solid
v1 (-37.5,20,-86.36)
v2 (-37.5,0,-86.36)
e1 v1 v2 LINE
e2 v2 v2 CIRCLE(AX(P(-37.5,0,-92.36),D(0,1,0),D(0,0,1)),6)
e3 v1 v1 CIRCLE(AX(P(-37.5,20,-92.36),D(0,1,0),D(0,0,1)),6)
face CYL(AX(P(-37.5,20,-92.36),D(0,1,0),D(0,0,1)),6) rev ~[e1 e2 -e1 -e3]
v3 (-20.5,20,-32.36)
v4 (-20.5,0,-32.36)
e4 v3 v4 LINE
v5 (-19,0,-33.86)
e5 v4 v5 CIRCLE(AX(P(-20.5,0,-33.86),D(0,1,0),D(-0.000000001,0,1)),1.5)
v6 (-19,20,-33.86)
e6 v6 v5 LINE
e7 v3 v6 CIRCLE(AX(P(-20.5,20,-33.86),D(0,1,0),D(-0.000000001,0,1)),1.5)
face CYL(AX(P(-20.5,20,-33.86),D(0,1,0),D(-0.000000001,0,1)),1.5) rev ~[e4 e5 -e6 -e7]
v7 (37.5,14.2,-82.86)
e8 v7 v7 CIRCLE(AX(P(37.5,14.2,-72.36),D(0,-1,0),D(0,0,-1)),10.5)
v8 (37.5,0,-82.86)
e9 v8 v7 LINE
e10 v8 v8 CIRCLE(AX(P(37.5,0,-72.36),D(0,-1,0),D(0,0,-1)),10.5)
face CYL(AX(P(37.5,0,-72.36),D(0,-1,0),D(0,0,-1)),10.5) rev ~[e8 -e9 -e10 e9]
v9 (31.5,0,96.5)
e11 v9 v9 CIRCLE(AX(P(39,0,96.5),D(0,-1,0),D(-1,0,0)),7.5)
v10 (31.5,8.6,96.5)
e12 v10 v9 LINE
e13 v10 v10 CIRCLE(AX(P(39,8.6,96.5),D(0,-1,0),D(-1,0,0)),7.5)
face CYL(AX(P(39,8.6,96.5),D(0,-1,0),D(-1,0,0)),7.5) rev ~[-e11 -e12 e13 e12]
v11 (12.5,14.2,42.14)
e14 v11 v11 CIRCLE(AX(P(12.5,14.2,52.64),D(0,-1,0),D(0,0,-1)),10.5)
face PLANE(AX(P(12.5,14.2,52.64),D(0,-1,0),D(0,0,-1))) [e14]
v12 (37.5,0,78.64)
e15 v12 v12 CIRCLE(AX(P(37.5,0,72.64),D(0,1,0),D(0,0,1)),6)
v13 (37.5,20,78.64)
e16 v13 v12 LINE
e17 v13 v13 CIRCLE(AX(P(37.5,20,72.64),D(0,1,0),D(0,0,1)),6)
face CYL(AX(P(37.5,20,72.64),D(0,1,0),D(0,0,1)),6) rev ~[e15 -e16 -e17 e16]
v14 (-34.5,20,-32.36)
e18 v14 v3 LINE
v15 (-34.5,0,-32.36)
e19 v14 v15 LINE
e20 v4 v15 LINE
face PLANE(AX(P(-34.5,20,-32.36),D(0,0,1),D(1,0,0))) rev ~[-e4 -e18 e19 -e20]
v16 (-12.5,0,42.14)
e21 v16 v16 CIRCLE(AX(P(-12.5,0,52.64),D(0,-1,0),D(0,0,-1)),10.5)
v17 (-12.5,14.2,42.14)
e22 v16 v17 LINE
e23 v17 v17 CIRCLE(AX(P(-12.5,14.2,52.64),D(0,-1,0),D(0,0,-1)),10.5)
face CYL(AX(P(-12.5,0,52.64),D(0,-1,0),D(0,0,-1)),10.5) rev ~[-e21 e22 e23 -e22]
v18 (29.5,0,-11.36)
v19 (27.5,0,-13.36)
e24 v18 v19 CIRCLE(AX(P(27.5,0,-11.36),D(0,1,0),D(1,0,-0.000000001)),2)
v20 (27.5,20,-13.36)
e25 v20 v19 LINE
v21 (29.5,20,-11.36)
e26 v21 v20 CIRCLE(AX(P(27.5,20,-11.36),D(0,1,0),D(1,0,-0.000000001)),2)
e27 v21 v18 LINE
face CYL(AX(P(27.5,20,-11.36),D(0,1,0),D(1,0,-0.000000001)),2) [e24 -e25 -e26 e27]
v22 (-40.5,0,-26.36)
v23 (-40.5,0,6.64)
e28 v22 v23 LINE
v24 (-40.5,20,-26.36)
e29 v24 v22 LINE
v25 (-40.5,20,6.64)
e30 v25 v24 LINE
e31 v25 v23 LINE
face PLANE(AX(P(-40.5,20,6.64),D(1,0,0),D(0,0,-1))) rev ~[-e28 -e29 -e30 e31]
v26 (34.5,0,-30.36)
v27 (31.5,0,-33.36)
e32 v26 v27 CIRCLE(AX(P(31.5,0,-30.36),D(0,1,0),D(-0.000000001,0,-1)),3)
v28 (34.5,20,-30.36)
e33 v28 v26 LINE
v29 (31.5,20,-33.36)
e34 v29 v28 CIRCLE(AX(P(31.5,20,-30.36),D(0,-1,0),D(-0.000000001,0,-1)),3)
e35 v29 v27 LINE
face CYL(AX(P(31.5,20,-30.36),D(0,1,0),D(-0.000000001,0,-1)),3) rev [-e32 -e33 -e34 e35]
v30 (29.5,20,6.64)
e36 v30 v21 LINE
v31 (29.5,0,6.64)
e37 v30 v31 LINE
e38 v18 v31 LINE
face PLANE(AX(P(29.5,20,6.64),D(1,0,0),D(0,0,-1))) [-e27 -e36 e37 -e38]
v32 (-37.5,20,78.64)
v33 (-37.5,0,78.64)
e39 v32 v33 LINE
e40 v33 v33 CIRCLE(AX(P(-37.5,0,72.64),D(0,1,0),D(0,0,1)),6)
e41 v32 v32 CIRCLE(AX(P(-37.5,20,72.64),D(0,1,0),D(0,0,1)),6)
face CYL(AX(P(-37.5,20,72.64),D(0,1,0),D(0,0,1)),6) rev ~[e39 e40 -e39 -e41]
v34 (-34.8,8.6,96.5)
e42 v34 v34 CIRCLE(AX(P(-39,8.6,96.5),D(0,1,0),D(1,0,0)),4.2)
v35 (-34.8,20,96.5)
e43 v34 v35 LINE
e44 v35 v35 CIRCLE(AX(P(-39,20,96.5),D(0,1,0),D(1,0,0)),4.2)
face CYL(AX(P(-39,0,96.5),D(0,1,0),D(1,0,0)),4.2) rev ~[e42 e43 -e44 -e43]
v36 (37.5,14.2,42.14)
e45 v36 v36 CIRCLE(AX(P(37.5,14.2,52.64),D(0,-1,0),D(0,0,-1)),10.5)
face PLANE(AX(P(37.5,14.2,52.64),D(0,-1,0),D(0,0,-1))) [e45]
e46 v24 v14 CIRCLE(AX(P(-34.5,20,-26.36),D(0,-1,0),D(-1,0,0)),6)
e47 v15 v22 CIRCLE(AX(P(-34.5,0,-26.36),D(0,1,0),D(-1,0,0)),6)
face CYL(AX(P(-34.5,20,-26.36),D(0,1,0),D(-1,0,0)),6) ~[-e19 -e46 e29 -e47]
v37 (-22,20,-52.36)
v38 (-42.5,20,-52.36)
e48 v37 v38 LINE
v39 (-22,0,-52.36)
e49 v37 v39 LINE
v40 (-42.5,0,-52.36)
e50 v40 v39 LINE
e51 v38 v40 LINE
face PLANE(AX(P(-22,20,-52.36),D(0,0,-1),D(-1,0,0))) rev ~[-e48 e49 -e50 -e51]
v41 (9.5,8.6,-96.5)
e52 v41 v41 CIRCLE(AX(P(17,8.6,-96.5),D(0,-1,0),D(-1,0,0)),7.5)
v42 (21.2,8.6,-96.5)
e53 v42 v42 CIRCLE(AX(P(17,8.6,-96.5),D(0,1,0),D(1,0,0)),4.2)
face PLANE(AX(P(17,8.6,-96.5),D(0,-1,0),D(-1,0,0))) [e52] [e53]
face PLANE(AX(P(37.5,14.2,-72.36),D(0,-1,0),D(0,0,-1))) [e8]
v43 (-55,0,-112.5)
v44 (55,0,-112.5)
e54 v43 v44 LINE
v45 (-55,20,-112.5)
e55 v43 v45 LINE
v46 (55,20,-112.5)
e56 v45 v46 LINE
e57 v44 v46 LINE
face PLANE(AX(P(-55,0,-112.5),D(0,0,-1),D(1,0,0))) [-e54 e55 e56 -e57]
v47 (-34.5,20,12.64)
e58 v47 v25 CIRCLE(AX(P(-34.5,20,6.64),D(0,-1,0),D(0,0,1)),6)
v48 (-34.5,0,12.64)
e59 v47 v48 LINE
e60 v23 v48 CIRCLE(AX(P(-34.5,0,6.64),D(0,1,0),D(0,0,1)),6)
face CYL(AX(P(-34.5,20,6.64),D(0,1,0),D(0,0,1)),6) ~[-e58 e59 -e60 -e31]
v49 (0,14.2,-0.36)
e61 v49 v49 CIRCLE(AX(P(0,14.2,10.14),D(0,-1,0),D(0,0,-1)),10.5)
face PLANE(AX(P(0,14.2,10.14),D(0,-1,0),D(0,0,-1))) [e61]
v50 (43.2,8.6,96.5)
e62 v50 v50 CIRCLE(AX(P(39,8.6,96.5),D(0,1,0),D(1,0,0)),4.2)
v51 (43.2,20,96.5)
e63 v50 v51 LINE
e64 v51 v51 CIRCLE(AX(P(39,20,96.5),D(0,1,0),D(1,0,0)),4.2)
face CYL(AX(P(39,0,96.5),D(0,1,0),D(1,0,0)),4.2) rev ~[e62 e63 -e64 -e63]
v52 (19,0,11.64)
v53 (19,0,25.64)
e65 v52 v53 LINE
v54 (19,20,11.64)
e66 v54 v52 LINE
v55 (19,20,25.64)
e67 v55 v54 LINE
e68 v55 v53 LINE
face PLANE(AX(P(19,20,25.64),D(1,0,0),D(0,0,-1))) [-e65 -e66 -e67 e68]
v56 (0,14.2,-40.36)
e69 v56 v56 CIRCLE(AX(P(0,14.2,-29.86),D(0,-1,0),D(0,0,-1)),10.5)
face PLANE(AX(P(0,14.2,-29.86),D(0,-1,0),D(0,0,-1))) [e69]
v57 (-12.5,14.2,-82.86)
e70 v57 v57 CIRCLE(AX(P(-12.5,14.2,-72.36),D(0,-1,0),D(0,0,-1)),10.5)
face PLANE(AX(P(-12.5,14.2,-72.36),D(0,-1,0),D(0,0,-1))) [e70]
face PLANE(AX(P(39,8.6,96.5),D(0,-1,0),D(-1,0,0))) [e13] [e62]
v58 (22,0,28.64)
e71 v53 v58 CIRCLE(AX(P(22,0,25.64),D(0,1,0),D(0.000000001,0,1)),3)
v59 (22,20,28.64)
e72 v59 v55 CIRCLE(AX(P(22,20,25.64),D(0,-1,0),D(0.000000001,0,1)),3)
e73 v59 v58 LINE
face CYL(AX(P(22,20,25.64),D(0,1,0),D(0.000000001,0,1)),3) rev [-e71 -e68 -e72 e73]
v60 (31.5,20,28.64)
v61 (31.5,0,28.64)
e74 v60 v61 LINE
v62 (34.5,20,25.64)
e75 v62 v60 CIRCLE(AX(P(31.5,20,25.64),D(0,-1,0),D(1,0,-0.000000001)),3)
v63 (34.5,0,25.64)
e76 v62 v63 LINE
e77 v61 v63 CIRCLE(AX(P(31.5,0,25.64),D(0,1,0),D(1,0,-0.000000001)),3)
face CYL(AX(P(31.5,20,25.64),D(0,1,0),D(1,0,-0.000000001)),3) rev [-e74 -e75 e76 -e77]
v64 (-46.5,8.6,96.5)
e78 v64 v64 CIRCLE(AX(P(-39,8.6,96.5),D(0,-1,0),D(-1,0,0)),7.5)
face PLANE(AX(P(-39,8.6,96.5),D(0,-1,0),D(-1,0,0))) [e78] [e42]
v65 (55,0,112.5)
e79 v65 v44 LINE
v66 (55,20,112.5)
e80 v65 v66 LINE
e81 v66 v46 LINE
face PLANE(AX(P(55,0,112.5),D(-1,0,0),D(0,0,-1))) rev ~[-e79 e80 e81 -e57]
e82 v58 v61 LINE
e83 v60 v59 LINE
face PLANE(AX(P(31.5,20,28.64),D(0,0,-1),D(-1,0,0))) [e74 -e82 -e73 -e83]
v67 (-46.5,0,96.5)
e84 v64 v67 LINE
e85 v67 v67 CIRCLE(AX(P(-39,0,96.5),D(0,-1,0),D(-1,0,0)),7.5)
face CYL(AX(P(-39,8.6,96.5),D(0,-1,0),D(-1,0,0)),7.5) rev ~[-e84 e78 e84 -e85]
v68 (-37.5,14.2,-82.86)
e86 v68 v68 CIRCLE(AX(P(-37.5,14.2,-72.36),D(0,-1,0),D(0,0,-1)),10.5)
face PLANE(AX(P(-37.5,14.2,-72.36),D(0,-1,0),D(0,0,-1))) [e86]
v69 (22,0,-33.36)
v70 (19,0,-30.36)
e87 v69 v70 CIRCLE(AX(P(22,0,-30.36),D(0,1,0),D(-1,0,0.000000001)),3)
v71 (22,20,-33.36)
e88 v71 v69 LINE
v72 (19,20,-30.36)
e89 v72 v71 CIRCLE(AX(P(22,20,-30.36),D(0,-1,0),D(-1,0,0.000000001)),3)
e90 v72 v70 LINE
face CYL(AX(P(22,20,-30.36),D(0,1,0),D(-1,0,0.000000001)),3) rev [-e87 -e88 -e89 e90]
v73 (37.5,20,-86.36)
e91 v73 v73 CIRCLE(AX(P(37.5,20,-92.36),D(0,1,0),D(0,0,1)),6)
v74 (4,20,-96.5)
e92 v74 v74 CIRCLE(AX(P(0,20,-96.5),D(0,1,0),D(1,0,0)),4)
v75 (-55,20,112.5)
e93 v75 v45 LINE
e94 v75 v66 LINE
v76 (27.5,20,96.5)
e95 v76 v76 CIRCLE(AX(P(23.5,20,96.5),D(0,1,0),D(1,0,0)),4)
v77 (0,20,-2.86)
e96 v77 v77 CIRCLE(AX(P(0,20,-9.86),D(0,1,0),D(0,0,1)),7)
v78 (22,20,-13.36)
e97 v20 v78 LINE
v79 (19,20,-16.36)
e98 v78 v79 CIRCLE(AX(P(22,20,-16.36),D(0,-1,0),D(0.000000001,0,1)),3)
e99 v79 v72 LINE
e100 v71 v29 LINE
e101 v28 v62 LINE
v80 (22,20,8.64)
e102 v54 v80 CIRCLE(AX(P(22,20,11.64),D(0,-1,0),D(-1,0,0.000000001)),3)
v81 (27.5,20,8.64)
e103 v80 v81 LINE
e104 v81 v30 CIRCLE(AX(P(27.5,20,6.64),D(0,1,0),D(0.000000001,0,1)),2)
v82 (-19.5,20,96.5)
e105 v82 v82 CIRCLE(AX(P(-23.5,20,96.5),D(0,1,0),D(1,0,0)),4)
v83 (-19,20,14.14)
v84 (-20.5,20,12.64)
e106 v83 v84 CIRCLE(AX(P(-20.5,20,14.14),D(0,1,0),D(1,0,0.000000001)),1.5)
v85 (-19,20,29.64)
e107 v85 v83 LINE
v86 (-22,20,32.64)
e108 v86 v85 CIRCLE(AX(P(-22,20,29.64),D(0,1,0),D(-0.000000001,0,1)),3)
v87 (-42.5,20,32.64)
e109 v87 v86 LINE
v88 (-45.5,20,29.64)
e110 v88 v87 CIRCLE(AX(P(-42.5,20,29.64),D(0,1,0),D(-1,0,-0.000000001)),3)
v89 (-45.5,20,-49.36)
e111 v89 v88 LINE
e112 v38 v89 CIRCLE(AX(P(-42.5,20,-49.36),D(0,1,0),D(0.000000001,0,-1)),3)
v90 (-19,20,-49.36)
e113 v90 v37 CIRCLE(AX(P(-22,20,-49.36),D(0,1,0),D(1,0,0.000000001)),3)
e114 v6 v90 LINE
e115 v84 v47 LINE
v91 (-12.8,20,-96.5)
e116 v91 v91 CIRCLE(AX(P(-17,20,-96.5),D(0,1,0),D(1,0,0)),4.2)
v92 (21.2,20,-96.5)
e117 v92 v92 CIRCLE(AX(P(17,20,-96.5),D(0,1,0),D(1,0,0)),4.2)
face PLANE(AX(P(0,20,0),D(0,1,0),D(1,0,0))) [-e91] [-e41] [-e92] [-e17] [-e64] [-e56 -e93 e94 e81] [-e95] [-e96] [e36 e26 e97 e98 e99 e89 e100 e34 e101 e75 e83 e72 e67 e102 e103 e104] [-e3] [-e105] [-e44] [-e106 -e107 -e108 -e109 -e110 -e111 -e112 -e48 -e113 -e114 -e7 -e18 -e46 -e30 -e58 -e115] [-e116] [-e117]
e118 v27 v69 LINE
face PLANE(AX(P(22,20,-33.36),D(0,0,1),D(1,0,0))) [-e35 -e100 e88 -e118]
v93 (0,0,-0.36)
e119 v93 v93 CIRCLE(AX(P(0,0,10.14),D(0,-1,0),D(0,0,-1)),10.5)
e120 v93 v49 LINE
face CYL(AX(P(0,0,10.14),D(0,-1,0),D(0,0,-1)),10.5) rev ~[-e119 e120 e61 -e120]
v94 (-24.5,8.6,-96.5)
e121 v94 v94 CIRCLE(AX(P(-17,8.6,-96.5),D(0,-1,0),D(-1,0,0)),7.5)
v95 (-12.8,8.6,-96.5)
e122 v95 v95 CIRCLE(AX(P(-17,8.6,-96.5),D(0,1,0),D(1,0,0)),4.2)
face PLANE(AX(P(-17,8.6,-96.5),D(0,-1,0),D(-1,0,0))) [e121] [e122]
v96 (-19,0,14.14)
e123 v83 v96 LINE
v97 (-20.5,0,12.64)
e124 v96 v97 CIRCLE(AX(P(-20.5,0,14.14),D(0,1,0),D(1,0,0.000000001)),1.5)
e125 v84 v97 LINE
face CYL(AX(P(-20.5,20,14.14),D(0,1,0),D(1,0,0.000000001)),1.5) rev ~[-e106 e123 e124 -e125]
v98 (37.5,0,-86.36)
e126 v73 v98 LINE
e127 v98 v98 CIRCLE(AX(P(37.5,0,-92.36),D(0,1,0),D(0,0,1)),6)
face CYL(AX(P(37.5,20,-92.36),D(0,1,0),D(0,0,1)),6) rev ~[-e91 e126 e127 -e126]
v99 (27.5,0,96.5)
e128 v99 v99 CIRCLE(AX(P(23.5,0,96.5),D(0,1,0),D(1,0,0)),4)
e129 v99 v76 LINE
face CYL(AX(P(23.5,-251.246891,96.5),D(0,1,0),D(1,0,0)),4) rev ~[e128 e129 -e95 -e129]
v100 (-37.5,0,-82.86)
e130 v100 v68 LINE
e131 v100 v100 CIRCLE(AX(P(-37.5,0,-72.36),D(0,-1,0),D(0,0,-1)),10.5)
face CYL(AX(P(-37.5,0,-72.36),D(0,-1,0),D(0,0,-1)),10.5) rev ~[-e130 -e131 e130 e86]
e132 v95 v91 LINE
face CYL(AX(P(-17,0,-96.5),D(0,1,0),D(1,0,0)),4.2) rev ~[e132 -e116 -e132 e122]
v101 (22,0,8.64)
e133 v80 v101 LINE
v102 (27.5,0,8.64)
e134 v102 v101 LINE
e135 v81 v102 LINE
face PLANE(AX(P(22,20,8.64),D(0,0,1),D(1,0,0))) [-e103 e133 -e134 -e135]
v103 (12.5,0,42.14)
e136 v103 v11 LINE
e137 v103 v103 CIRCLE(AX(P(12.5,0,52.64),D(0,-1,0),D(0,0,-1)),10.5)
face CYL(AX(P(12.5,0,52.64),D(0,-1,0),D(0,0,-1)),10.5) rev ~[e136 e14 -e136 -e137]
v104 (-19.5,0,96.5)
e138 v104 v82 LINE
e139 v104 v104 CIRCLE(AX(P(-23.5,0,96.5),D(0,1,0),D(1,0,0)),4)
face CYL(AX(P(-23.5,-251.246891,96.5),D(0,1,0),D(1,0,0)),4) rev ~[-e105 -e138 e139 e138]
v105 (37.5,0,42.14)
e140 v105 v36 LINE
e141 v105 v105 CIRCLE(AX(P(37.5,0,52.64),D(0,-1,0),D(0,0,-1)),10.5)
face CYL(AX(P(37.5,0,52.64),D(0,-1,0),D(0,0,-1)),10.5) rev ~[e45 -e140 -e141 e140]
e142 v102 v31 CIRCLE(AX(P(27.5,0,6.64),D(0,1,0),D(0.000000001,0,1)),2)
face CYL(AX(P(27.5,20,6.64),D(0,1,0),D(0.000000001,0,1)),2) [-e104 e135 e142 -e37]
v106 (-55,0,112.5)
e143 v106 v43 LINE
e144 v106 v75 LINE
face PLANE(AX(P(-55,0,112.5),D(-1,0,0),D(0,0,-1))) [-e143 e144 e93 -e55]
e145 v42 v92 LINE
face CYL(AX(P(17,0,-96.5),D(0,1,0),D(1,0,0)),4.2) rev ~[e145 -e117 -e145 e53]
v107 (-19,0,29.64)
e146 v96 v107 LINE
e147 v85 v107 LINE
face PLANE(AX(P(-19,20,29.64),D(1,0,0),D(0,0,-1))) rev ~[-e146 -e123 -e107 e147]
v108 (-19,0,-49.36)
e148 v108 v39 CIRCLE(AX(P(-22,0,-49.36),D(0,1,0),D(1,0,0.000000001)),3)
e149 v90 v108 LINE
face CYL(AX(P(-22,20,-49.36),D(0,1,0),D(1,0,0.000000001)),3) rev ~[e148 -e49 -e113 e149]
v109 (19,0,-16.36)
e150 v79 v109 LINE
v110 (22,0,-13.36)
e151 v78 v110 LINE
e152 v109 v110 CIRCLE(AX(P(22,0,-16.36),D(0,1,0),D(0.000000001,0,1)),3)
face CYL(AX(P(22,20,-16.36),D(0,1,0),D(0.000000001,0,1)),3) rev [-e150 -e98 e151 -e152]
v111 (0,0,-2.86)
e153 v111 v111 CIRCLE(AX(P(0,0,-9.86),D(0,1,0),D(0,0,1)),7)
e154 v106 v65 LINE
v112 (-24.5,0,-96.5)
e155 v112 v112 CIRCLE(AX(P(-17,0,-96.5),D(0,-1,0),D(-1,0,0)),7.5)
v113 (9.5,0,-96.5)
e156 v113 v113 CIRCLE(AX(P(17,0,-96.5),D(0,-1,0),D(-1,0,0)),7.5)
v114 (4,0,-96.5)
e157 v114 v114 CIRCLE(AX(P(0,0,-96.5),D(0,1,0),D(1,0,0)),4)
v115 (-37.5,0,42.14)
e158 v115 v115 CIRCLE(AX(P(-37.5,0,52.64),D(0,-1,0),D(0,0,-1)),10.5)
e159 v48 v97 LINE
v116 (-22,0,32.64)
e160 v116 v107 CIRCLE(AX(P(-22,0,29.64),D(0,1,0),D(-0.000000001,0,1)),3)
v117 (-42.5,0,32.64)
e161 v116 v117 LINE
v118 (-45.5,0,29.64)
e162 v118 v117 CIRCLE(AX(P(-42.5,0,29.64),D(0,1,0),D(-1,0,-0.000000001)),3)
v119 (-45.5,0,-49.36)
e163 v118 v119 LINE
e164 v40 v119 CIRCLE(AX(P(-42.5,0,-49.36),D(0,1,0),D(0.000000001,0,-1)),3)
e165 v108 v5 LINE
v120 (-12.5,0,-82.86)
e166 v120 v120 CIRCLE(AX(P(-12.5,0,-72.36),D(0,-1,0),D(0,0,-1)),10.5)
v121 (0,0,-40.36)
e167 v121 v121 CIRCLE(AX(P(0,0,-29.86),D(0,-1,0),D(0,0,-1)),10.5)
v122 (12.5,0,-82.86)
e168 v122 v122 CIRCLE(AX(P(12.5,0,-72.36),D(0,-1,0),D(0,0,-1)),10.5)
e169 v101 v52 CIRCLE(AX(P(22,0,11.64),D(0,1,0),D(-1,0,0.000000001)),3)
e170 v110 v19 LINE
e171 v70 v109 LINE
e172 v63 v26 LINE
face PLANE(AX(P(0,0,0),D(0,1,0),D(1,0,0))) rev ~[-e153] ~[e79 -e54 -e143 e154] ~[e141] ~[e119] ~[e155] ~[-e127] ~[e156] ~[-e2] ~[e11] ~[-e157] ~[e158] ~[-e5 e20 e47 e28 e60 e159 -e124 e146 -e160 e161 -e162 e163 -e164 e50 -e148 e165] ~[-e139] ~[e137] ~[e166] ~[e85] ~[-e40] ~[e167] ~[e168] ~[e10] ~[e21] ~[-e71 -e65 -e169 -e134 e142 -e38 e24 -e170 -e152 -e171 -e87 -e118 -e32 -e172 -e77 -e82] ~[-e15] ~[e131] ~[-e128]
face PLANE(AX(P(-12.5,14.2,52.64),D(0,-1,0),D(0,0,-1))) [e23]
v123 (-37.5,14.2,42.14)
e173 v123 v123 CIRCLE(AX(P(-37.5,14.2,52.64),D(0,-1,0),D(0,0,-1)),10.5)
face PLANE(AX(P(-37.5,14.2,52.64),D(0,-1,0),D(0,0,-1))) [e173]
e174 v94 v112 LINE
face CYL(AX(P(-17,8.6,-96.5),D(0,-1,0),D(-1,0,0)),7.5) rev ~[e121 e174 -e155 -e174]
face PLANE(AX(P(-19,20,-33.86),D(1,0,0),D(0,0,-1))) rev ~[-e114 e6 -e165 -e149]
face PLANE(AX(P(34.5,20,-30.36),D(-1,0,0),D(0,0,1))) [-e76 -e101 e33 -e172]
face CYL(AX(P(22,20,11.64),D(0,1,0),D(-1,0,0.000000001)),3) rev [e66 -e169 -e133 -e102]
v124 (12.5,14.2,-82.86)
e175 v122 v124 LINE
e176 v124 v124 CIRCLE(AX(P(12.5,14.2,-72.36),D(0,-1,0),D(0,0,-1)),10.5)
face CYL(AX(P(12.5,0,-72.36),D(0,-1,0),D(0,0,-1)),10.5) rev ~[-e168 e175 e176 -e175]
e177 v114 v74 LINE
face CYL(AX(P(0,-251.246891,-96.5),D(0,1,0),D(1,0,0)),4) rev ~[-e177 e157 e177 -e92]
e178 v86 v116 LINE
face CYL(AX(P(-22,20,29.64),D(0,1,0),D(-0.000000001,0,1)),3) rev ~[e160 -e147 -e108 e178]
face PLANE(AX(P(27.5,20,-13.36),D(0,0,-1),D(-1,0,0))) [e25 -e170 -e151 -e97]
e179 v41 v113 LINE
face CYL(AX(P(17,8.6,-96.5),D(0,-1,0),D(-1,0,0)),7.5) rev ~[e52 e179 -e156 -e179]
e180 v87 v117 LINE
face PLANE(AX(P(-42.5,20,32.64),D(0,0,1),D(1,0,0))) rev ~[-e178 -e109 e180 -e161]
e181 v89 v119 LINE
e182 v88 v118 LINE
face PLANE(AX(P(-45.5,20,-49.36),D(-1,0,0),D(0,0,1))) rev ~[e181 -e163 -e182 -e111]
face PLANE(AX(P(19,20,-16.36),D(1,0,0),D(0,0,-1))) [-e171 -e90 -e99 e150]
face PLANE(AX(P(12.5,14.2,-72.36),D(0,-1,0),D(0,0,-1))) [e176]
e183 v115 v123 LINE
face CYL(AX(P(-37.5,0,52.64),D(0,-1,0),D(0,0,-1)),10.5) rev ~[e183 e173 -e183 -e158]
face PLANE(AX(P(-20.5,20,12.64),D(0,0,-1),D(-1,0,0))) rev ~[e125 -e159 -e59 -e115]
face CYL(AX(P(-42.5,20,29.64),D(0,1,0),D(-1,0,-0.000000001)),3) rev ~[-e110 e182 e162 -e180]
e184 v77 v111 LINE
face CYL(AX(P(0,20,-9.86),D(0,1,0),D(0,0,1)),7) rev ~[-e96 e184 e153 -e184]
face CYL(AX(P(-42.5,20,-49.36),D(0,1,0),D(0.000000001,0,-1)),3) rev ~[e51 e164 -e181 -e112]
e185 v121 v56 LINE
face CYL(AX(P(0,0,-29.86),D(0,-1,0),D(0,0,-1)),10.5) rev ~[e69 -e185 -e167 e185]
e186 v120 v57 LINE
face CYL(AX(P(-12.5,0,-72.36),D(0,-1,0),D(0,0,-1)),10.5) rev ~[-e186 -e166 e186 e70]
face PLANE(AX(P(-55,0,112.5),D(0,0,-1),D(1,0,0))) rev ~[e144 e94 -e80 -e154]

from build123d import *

# Parameters (mm, degrees)
SKETCH1_W                                           = 110
SKETCH1_H                                           = 225
BOSS_EXTRUDE1_DEPTH                                 = 20
CUT_EXTRUDE1_REACH                                  = 128.812
CUT_EXTRUDE2_REACH                                  = 128.812
SKETCH4_R                                           = 10.5
CUT_EXTRUDE3_DEPTH                                  = 14.2
CUT_EXTRUDE4_REACH                                  = 128.812
SKETCH5_R                                           = 6
CUT_EXTRUDE5_REACH                                  = 128.812
SKETCH6_R                                           = 7
CBORE_FOR_M8_HEX_SOCKET_HEAD_CAP_SCREW1_D           = 8.4
CBORE_FOR_M8_HEX_SOCKET_HEAD_CAP_SCREW1_CBORE_D     = 15
CBORE_FOR_M8_HEX_SOCKET_HEAD_CAP_SCREW1_CBORE_DEPTH = 8.6
F_8_0MM_DOWEL_HOLE1_D                               = 8


with BuildPart() as part:
    # Sketch1 → Boss-Extrude1 (new body)
    with BuildSketch(Plane(origin=(0, 0, 0), x_dir=(1, 0, 0), z_dir=(0, 1, 0))):
        Rectangle(SKETCH1_W, SKETCH1_H)
    extrude(amount=BOSS_EXTRUDE1_DEPTH)

    # Sketch2 → Cut-Extrude1 (cut, up to next)
    with BuildSketch(Plane(origin=(0, 20, 0), x_dir=(1, 0, 0), z_dir=(0, 1, 0)), mode=Mode.PRIVATE) as cut_extrude1_sk1:
        with BuildLine():
            Line((-42.5, -32.64), (-22, -32.64))
            ThreePointArc((-22, -32.64), (-19.878679656, -31.761320344), (-19, -29.64))
            Line((-19, -29.64), (-19, -14.14))
            ThreePointArc((-19, -14.14), (-19.439339828, -13.079339828), (-20.5, -12.64))
            Line((-20.5, -12.64), (-34.5, -12.64))
            ThreePointArc((-34.5, -12.64), (-38.742640687, -10.882640687), (-40.5, -6.64))
            Line((-40.5, -6.64), (-40.5, 26.36))
            ThreePointArc((-40.5, 26.36), (-38.742640687, 30.602640687), (-34.5, 32.36))
            Line((-34.5, 32.36), (-20.5, 32.36))
            ThreePointArc((-20.5, 32.36), (-19.439339828, 32.799339828), (-19, 33.86))
            Line((-19, 33.86), (-19, 49.36))
            ThreePointArc((-19, 49.36), (-19.878679656, 51.481320344), (-22, 52.36))
            Line((-22, 52.36), (-42.5, 52.36))
            ThreePointArc((-42.5, 52.36), (-44.621320344, 51.481320344), (-45.5, 49.36))
            Line((-45.5, 49.36), (-45.5, -29.64))
            ThreePointArc((-45.5, -29.64), (-44.621320344, -31.761320344), (-42.5, -32.64))
        make_face()
    cut_extrude1_tool1 = extrude(cut_extrude1_sk1.sketch, amount=-CUT_EXTRUDE1_REACH, mode=Mode.PRIVATE) & part.part
    add(cut_extrude1_tool1.solids().sort_by_distance((-43.991747, 20, -50.851747))[0], mode=Mode.SUBTRACT)

    # Sketch3 → Cut-Extrude2 (cut, up to next)
    with BuildSketch(Plane(origin=(0, 20, 0), x_dir=(1, 0, 0), z_dir=(0, 1, 0)), mode=Mode.PRIVATE) as cut_extrude2_sk1:
        with BuildLine():
            Line((22, -8.64), (27.5, -8.64))
            ThreePointArc((27.5, -8.64), (28.914213562, -8.054213562), (29.5, -6.64))
            Line((29.5, -6.64), (29.5, 11.36))
            ThreePointArc((29.5, 11.36), (28.914213562, 12.774213562), (27.5, 13.36))
            Line((27.5, 13.36), (22, 13.36))
            ThreePointArc((22, 13.36), (19.878679656, 14.238679656), (19, 16.36))
            Line((19, 16.36), (19, 30.36))
            ThreePointArc((19, 30.36), (19.878679656, 32.481320344), (22, 33.36))
            Line((22, 33.36), (31.5, 33.36))
            ThreePointArc((31.5, 33.36), (33.621320344, 32.481320344), (34.5, 30.36))
            Line((34.5, 30.36), (34.5, -25.64))
            ThreePointArc((34.5, -25.64), (33.621320344, -27.761320344), (31.5, -28.64))
            Line((31.5, -28.64), (22, -28.64))
            ThreePointArc((22, -28.64), (19.878679656, -27.761320344), (19, -25.64))
            Line((19, -25.64), (19, -11.64))
            ThreePointArc((19, -11.64), (19.878679656, -9.518679656), (22, -8.64))
        make_face()
    cut_extrude2_tool1 = extrude(cut_extrude2_sk1.sketch, amount=-CUT_EXTRUDE2_REACH, mode=Mode.PRIVATE) & part.part
    add(cut_extrude2_tool1.solids().sort_by_distance((24.75, 20, 9.279081))[0], mode=Mode.SUBTRACT)

    # Sketch4 → Cut-Extrude3 (cut)
    with BuildSketch(Plane.XZ):
        with Locations(Location((37.5, 52.64, 0), (0, 0, 270))):
            Circle(SKETCH4_R)
        with Locations(Location((12.5, 52.64, 0), (0, 0, 270))):
            Circle(SKETCH4_R)
        with Locations(Location((-12.5, 52.64, 0), (0, 0, 270))):
            Circle(SKETCH4_R)
        with Locations(Location((-37.5, 52.64, 0), (0, 0, 270))):
            Circle(SKETCH4_R)
        with Locations(Location((0, 10.14, 0), (0, 0, 270))):
            Circle(SKETCH4_R)
        with Locations(Location((0, -29.86, 0), (0, 0, 270))):
            Circle(SKETCH4_R)
        with Locations(Location((37.5, -72.36, 0), (0, 0, 270))):
            Circle(SKETCH4_R)
        with Locations(Location((12.5, -72.36, 0), (0, 0, 270))):
            Circle(SKETCH4_R)
        with Locations(Location((-12.5, -72.36, 0), (0, 0, 270))):
            Circle(SKETCH4_R)
        with Locations(Location((-37.5, -72.36, 0), (0, 0, 270))):
            Circle(SKETCH4_R)
    extrude(amount=-CUT_EXTRUDE3_DEPTH, mode=Mode.SUBTRACT)

    # Sketch5 → Cut-Extrude4 (cut, up to next)
    with BuildSketch(Plane(origin=(0, 20, 0), x_dir=(1, 0, 0), z_dir=(0, 1, 0)), mode=Mode.PRIVATE) as cut_extrude4_sk1:
        with Locations(Location((-37.5, 92.36, 0), (0, 0, 270))):
            Circle(SKETCH5_R)
    cut_extrude4_tool1 = extrude(cut_extrude4_sk1.sketch, amount=-CUT_EXTRUDE4_REACH, mode=Mode.PRIVATE) & part.part
    # Sketch5 → Cut-Extrude4 (cut, up to next)
    with BuildSketch(Plane(origin=(0, 20, 0), x_dir=(1, 0, 0), z_dir=(0, 1, 0)), mode=Mode.PRIVATE) as cut_extrude4_sk2:
        with Locations(Location((37.5, 92.36, 0), (0, 0, 270))):
            Circle(SKETCH5_R)
    cut_extrude4_tool2 = extrude(cut_extrude4_sk2.sketch, amount=-CUT_EXTRUDE4_REACH, mode=Mode.PRIVATE) & part.part
    # Sketch5 → Cut-Extrude4 (cut, up to next)
    with BuildSketch(Plane(origin=(0, 20, 0), x_dir=(1, 0, 0), z_dir=(0, 1, 0)), mode=Mode.PRIVATE) as cut_extrude4_sk3:
        with Locations(Location((-37.5, -72.64, 0), (0, 0, 270))):
            Circle(SKETCH5_R)
    cut_extrude4_tool3 = extrude(cut_extrude4_sk3.sketch, amount=-CUT_EXTRUDE4_REACH, mode=Mode.PRIVATE) & part.part
    # Sketch5 → Cut-Extrude4 (cut, up to next)
    with BuildSketch(Plane(origin=(0, 20, 0), x_dir=(1, 0, 0), z_dir=(0, 1, 0)), mode=Mode.PRIVATE) as cut_extrude4_sk4:
        with Locations(Location((37.5, -72.64, 0), (0, 0, 270))):
            Circle(SKETCH5_R)
    cut_extrude4_tool4 = extrude(cut_extrude4_sk4.sketch, amount=-CUT_EXTRUDE4_REACH, mode=Mode.PRIVATE) & part.part
    add(cut_extrude4_tool1.solids().sort_by_distance((-37.5, 20, -92.36))[0], mode=Mode.SUBTRACT)
    add(cut_extrude4_tool2.solids().sort_by_distance((37.5, 20, -92.36))[0], mode=Mode.SUBTRACT)
    add(cut_extrude4_tool3.solids().sort_by_distance((-37.5, 20, 72.64))[0], mode=Mode.SUBTRACT)
    add(cut_extrude4_tool4.solids().sort_by_distance((37.5, 20, 72.64))[0], mode=Mode.SUBTRACT)

    # Sketch6 → Cut-Extrude5 (cut, up to next)
    with BuildSketch(Plane(origin=(0, 20, 0), x_dir=(1, 0, 0), z_dir=(0, 1, 0)), mode=Mode.PRIVATE) as cut_extrude5_sk1:
        with Locations(Location((0, 9.86, 0), (0, 0, 270))):
            Circle(SKETCH6_R)
    cut_extrude5_tool1 = extrude(cut_extrude5_sk1.sketch, amount=-CUT_EXTRUDE5_REACH, mode=Mode.PRIVATE) & part.part
    add(cut_extrude5_tool1.solids().sort_by_distance((0, 20, -9.86))[0], mode=Mode.SUBTRACT)

    # CBORE for M8 Hex Socket Head Cap Screw1 (through all)
    with Locations(Plane(origin=(0, 0, 0), x_dir=(-1, 0, 0), z_dir=(0, -1, 0))):
        with Locations((-17, 96.5), (17, 96.5), (-39, -96.5), (39, -96.5)):
            CounterBoreHole(CBORE_FOR_M8_HEX_SOCKET_HEAD_CAP_SCREW1_D / 2, CBORE_FOR_M8_HEX_SOCKET_HEAD_CAP_SCREW1_CBORE_D / 2, CBORE_FOR_M8_HEX_SOCKET_HEAD_CAP_SCREW1_CBORE_DEPTH)

    # Ø8.0mm Dowel Hole1 (through all)
    with Locations(Plane(origin=(0, 0, 0), x_dir=(-1, 0, 0), z_dir=(0, -1, 0))):
        with Locations((0, 96.5), (-23.5, -96.5), (23.5, -96.5)):
            Hole(F_8_0MM_DOWEL_HOLE1_D / 2)


solid = part.part
